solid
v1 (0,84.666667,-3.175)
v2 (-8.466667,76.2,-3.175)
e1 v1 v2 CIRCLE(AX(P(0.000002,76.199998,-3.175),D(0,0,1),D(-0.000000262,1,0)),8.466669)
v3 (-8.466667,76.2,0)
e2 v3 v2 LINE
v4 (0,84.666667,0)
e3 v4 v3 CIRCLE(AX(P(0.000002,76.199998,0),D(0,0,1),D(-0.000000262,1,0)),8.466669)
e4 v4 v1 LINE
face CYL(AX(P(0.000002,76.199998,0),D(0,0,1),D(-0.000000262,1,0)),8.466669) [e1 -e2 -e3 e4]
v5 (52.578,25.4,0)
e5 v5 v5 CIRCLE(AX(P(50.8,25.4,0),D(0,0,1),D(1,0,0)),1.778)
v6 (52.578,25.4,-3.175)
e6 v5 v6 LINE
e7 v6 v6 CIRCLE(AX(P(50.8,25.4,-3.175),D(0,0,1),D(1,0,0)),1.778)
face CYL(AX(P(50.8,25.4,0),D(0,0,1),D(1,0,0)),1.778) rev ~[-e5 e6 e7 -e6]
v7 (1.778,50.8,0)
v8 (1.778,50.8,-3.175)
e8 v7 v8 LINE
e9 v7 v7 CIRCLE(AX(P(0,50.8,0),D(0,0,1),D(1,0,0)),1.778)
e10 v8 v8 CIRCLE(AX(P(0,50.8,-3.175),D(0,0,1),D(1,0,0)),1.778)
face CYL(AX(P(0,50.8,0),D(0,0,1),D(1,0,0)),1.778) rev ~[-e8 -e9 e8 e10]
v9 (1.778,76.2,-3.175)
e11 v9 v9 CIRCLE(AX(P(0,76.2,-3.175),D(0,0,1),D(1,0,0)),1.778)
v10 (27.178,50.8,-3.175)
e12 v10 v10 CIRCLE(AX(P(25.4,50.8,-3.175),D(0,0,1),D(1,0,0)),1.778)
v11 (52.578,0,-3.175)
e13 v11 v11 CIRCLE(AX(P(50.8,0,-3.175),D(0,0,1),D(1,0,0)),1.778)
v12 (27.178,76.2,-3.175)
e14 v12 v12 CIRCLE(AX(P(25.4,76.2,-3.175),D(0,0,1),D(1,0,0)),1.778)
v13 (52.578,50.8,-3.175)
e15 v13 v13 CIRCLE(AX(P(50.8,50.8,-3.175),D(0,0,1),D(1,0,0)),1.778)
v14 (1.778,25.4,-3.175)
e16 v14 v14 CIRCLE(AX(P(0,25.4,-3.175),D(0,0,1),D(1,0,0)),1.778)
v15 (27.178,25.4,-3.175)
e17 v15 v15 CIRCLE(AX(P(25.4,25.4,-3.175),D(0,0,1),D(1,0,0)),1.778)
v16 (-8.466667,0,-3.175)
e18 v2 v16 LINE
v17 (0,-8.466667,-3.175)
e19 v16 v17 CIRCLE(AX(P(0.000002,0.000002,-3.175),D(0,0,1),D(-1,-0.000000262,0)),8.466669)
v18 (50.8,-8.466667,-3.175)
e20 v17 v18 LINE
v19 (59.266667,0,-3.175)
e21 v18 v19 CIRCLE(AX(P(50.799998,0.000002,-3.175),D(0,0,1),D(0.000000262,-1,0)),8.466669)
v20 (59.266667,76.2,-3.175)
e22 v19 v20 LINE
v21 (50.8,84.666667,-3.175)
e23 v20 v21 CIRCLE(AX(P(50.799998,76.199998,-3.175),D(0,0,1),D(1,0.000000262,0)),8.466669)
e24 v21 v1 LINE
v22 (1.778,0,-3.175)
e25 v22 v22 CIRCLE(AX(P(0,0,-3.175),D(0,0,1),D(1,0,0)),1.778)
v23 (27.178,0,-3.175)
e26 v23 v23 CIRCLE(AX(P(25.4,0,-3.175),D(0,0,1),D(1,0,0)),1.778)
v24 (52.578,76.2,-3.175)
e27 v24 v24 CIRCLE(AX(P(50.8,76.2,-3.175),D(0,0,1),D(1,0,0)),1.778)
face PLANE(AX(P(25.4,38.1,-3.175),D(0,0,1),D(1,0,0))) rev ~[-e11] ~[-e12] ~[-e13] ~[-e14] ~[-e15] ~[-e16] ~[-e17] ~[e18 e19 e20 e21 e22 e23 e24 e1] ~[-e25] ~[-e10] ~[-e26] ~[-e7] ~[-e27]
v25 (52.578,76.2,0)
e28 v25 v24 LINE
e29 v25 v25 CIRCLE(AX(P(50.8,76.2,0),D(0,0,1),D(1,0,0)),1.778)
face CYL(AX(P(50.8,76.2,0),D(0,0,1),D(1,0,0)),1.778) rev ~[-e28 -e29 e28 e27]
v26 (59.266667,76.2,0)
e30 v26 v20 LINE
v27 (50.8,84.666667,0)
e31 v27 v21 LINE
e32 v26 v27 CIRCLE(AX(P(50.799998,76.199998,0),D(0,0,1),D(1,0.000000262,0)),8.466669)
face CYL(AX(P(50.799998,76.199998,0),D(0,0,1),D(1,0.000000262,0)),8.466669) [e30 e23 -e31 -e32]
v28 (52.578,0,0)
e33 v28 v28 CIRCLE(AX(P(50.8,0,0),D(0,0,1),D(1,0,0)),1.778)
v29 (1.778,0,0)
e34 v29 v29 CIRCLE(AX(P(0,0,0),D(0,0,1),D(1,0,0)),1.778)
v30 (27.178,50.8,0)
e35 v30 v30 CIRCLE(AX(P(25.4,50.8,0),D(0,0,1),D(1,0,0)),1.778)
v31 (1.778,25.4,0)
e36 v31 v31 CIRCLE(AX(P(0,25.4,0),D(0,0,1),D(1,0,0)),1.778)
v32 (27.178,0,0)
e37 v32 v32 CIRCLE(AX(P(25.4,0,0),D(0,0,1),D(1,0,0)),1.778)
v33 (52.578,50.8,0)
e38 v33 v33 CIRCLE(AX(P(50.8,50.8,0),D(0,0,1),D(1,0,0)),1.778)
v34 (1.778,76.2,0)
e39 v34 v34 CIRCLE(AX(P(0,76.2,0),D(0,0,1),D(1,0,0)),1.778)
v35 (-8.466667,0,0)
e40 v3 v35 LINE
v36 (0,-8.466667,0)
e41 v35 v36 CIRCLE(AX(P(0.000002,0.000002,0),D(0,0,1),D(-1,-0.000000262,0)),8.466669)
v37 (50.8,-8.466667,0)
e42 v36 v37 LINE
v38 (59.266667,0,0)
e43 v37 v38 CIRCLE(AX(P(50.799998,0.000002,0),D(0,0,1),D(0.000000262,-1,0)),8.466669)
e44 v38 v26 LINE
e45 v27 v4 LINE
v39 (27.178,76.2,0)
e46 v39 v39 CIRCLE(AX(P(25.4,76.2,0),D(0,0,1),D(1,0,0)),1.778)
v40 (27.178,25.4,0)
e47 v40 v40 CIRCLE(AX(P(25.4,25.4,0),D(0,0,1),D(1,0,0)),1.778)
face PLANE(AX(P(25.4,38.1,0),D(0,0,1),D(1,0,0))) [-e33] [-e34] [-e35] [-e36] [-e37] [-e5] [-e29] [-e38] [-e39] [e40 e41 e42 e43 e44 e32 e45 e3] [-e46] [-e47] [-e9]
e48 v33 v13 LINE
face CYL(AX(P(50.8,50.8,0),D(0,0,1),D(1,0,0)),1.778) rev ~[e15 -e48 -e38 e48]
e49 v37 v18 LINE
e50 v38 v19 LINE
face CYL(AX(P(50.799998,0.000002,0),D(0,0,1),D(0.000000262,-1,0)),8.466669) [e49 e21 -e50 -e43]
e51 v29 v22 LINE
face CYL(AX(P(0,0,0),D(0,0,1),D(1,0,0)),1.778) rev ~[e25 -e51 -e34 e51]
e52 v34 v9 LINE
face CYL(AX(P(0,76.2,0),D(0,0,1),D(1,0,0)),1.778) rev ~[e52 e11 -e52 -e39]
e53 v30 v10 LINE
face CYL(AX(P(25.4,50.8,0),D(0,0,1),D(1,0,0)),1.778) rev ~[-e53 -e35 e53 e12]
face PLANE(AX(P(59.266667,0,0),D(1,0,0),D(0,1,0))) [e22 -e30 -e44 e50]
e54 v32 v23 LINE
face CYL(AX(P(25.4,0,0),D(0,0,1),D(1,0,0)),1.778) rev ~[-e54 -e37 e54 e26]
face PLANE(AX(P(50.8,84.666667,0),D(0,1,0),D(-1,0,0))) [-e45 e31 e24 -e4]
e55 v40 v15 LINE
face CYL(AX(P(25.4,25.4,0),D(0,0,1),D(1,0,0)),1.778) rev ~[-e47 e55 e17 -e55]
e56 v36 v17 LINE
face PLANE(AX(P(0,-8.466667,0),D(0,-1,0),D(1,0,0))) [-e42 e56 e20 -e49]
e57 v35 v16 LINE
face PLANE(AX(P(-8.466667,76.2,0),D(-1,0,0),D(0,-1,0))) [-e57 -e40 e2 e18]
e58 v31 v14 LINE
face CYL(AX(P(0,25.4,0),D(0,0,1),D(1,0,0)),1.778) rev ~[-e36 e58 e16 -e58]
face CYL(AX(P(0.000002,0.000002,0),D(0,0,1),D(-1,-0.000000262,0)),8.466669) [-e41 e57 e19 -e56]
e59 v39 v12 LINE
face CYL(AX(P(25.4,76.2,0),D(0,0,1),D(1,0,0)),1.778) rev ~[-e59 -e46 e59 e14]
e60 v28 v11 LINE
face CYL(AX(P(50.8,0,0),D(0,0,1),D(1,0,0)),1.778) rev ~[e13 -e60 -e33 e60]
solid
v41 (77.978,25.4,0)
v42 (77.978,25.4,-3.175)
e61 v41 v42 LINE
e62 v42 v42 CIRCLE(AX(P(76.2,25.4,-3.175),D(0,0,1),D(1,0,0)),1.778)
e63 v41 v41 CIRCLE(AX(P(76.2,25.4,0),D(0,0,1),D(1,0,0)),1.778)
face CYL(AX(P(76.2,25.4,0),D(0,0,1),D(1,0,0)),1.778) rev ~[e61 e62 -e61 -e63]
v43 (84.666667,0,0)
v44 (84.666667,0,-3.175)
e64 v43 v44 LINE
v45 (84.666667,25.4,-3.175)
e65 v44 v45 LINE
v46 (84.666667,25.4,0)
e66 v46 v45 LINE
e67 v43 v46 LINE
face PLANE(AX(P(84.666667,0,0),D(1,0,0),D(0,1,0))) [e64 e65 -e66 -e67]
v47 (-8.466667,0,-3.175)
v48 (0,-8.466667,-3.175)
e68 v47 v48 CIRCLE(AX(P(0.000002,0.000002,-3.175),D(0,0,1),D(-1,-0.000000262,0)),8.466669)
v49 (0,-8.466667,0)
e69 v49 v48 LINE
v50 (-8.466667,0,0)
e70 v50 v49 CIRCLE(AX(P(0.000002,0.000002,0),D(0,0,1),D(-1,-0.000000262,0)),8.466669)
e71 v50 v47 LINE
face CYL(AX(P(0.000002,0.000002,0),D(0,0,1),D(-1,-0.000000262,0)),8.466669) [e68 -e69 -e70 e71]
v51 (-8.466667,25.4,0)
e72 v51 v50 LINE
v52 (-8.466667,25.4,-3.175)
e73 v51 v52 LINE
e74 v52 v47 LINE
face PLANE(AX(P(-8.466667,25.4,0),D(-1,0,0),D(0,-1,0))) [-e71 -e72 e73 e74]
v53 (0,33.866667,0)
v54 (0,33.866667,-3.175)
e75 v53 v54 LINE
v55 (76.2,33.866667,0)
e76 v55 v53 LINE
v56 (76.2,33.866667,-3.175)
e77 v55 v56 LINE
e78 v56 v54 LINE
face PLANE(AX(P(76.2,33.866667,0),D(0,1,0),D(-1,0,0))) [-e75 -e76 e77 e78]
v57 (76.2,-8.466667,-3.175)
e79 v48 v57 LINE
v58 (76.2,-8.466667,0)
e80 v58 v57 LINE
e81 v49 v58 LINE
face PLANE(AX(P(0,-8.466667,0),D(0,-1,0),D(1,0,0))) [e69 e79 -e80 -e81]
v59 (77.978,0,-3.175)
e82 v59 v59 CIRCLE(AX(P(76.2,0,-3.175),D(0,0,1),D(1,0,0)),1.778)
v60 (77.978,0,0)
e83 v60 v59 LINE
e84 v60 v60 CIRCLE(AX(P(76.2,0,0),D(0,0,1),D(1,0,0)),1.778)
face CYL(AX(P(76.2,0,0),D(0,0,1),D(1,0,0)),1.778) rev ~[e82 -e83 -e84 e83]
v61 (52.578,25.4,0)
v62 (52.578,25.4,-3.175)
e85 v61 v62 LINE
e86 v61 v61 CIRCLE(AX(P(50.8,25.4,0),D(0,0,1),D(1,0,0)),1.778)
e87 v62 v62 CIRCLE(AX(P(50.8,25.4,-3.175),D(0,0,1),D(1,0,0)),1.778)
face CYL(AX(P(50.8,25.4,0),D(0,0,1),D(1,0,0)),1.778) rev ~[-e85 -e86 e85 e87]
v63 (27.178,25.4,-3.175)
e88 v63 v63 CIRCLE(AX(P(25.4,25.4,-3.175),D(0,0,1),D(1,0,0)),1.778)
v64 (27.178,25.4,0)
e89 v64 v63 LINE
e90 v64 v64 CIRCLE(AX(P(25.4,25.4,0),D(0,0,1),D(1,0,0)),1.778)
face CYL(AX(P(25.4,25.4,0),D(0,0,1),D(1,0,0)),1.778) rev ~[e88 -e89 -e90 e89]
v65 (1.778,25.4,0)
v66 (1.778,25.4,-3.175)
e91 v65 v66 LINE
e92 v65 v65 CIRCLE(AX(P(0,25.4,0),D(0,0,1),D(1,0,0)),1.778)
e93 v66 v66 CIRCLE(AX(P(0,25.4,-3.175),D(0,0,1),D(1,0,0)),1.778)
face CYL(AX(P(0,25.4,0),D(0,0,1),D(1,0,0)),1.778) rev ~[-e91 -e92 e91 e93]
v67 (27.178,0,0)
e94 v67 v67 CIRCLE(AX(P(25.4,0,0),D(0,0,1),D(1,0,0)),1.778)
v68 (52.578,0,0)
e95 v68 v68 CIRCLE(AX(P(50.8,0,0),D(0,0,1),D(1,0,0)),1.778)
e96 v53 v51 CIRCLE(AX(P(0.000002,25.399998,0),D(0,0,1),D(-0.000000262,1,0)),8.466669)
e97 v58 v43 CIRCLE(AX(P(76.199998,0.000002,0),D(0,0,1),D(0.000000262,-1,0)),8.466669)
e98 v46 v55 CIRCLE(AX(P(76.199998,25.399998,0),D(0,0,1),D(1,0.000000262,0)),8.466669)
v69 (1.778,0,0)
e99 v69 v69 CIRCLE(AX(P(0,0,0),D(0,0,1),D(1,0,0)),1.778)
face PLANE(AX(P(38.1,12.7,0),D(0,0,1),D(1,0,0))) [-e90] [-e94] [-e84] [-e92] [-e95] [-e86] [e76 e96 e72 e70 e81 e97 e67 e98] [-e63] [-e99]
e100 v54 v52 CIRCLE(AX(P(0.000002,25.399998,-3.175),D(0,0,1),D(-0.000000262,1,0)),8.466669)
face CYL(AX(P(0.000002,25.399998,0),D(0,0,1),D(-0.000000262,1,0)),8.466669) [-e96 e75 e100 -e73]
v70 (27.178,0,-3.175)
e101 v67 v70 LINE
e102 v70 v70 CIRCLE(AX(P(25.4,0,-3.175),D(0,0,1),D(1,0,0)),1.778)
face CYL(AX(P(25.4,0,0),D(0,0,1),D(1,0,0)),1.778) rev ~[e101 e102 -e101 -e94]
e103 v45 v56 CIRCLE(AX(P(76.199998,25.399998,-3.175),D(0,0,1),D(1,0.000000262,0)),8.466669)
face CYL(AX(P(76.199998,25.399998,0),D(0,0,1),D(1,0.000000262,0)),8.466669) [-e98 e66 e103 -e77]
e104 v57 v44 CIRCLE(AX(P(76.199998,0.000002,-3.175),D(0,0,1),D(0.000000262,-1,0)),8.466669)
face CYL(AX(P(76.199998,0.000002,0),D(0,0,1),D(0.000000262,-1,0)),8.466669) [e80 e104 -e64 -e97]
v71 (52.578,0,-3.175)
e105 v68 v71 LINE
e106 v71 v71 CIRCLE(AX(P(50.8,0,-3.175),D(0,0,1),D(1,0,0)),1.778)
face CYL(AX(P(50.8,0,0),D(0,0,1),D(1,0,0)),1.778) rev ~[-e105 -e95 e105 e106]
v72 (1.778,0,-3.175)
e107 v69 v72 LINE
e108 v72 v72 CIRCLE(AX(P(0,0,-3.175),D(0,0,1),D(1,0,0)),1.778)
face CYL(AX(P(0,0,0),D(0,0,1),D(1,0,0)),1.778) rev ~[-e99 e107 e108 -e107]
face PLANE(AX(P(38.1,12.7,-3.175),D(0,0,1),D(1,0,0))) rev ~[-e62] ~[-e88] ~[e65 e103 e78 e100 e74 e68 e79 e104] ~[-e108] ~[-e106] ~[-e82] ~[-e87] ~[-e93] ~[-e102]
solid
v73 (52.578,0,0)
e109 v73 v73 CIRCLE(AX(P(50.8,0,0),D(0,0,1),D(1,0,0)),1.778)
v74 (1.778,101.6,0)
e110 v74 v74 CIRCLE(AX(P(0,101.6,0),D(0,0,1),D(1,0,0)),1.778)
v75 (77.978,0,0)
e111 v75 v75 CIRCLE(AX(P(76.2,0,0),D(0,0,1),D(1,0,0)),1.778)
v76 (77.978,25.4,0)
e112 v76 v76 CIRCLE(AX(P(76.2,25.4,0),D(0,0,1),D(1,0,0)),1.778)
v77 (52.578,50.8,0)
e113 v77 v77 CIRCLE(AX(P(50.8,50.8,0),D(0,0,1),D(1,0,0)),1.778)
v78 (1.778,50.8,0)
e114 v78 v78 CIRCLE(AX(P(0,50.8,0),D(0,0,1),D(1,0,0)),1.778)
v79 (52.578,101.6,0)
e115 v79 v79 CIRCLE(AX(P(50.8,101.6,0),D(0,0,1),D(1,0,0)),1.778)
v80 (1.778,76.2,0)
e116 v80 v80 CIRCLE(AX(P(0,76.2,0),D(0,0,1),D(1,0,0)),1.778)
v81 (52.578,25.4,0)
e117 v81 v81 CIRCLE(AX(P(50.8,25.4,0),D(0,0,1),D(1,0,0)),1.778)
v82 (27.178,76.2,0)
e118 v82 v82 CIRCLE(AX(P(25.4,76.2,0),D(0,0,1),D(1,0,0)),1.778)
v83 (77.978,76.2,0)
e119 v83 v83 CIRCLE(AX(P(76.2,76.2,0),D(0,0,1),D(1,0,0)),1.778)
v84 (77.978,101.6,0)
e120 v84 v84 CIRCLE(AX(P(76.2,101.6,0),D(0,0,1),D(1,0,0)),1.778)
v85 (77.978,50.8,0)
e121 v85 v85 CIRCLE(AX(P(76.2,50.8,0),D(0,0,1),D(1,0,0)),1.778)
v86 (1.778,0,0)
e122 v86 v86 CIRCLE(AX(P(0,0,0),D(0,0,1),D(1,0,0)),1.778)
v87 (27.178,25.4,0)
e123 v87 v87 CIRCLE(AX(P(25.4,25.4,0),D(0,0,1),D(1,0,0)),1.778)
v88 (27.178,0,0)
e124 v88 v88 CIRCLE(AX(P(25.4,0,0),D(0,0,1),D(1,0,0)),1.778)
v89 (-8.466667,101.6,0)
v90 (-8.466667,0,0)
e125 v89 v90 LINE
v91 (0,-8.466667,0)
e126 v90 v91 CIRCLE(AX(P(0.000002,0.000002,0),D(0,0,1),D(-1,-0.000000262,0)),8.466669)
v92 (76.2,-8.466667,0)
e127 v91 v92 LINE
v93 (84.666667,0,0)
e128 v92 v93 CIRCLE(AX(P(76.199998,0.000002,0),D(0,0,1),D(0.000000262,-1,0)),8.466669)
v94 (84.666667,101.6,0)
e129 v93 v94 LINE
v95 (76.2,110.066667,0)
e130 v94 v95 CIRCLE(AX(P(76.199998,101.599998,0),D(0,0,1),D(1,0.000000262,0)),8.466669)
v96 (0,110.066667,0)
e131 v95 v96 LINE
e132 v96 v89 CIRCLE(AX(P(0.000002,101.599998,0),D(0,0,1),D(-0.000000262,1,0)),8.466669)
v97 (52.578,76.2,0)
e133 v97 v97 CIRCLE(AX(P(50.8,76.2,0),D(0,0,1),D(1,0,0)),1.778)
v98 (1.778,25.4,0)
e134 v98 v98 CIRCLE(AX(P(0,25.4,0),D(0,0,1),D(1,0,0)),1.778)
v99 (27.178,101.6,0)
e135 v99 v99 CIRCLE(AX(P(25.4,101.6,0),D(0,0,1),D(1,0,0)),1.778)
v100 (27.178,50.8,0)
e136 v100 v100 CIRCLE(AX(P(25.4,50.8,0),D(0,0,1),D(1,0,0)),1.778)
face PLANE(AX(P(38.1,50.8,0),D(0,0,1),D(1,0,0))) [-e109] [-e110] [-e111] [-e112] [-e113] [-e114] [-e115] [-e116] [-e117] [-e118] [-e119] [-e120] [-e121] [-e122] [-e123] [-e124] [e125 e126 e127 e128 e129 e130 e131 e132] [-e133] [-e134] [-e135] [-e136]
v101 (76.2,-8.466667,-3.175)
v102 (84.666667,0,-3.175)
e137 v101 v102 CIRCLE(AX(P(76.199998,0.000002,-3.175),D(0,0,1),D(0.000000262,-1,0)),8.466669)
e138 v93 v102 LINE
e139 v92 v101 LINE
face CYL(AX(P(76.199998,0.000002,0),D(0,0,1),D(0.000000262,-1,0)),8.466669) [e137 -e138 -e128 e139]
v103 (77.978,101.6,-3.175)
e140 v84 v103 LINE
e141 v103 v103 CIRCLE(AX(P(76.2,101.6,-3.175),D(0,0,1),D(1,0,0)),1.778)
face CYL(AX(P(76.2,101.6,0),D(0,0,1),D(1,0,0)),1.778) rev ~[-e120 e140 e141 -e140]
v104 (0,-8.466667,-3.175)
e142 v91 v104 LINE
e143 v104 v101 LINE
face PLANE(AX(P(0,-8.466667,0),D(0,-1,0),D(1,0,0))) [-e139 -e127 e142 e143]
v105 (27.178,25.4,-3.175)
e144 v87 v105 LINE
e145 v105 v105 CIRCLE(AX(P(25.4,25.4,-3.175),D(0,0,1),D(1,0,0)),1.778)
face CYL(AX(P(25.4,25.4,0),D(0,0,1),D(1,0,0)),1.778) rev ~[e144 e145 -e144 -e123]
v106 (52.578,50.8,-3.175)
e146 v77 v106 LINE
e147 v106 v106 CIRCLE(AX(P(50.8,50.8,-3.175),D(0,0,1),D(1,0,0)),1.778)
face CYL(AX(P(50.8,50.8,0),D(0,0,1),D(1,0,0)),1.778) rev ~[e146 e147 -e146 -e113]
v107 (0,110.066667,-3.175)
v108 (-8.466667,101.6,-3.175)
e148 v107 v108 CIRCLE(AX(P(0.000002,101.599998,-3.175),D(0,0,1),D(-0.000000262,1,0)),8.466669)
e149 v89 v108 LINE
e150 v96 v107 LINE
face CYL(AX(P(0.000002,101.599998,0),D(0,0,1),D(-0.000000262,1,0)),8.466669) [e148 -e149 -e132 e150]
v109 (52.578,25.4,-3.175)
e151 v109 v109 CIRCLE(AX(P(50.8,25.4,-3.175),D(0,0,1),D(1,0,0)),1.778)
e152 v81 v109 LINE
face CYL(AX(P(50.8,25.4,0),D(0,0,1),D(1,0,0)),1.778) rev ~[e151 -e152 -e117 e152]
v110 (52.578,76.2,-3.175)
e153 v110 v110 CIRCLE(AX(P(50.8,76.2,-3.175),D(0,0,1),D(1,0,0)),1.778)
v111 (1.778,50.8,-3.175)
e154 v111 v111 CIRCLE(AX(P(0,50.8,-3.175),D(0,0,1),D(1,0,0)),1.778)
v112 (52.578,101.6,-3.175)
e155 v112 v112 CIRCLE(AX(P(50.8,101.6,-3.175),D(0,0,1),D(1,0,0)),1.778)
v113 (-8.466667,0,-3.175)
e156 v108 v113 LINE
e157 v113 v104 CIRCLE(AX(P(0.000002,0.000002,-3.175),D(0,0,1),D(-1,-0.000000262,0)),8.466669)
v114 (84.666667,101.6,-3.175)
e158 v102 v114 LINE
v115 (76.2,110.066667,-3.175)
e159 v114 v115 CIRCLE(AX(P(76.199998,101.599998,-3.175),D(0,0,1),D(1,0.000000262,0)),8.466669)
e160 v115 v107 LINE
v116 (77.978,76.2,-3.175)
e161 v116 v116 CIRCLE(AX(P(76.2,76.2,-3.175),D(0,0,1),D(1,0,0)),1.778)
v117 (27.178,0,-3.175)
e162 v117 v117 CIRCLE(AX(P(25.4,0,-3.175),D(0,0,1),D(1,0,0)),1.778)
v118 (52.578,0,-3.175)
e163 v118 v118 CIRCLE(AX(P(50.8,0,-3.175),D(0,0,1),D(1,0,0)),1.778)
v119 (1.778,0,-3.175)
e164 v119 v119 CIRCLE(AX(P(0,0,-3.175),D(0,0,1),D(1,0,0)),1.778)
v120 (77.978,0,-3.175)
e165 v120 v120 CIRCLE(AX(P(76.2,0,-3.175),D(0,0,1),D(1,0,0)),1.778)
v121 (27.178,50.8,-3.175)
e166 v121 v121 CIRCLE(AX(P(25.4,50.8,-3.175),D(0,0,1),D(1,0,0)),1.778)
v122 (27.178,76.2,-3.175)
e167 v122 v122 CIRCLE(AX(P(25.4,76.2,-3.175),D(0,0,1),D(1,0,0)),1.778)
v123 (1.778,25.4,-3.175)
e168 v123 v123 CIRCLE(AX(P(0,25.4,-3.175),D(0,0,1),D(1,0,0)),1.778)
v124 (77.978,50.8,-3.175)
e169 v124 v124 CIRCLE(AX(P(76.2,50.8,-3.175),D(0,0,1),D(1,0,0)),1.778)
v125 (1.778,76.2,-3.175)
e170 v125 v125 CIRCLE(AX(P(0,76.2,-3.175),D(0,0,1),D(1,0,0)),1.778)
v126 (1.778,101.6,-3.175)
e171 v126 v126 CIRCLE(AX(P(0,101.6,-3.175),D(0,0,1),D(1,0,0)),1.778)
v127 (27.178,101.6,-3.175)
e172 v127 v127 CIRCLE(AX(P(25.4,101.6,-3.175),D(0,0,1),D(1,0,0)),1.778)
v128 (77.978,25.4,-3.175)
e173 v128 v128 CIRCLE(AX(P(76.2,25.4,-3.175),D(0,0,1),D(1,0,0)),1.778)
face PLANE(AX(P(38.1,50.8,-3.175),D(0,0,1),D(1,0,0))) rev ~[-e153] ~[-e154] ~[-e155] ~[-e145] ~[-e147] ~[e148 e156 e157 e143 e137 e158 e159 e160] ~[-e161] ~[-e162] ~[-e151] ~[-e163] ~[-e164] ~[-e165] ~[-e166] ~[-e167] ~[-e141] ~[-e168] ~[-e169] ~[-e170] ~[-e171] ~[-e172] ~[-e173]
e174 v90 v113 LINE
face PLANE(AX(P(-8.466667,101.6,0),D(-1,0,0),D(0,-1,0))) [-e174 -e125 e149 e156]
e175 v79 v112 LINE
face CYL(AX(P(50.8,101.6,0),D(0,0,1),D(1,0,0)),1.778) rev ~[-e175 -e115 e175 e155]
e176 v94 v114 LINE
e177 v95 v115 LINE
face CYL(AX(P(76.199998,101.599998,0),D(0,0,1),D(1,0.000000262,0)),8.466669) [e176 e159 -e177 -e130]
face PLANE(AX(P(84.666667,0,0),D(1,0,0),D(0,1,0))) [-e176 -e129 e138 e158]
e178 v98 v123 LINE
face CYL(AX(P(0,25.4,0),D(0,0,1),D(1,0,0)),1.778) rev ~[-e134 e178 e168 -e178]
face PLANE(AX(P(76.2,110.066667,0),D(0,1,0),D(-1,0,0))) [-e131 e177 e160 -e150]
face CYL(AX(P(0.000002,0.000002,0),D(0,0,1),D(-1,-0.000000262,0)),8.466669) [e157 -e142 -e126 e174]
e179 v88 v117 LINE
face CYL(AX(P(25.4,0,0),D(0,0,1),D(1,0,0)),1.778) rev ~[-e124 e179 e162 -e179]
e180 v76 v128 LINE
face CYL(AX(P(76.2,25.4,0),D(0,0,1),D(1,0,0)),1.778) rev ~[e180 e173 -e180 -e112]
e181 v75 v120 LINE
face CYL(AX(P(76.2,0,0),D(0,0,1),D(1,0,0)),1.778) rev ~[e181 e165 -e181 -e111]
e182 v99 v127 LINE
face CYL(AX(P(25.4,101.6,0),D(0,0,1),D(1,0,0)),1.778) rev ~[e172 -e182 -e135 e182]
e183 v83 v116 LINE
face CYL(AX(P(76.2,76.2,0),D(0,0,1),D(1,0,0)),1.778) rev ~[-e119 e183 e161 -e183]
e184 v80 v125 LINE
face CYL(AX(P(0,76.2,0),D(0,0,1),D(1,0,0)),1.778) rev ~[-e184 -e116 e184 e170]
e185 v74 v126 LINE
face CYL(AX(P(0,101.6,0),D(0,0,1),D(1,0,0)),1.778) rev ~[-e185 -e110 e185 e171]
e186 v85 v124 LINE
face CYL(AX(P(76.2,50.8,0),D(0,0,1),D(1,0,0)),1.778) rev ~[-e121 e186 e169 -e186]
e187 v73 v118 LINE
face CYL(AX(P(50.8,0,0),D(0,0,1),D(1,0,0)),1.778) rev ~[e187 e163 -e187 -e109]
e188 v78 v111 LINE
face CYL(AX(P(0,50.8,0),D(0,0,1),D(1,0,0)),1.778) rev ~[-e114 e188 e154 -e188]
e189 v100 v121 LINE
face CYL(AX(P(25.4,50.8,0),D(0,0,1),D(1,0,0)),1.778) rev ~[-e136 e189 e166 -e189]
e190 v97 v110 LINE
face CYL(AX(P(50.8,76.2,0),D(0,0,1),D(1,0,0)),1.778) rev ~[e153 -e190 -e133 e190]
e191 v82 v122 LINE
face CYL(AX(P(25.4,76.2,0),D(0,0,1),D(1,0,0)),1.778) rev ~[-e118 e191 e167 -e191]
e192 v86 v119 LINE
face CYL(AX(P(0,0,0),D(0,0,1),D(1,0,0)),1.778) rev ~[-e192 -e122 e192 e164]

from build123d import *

# Parameters (mm, degrees)
F1_R     = 1.778
F2_DEPTH = 3.175
F3_R     = 1.778
F4_DEPTH = 3.175
F5_R     = 1.778
F6_DEPTH = 3.175


with BuildPart() as f2:
    # F1 (on Top) → F2 (new body, through all)
    with BuildSketch(Plane.XY):
        with BuildLine():
            Line((76.2, 33.866667), (0, 33.866667))
            ThreePointArc((0, 33.866667), (-5.986837, 31.386837), (-8.466667, 25.4))
            Line((-8.466667, 25.4), (-8.466667, 0))
            ThreePointArc((-8.466667, 0), (-5.986837, -5.986837), (0, -8.466667))
            Line((0, -8.466667), (76.2, -8.466667))
            ThreePointArc((76.2, -8.466667), (82.186837, -5.986837), (84.666667, 0))
            Line((84.666667, 0), (84.666667, 25.4))
            ThreePointArc((84.666667, 25.4), (82.186837, 31.386837), (76.2, 33.866667))
        make_face()
        Circle(F1_R, mode=Mode.SUBTRACT)
        with Locations((25.4, 0)):
            Circle(F1_R, mode=Mode.SUBTRACT)
        with Locations((50.8, 0)):
            Circle(F1_R, mode=Mode.SUBTRACT)
        with Locations((76.2, 0)):
            Circle(F1_R, mode=Mode.SUBTRACT)
        with Locations((0, 25.4)):
            Circle(F1_R, mode=Mode.SUBTRACT)
        with Locations((25.4, 25.4)):
            Circle(F1_R, mode=Mode.SUBTRACT)
        with Locations((50.8, 25.4)):
            Circle(F1_R, mode=Mode.SUBTRACT)
        with Locations((76.2, 25.4)):
            Circle(F1_R, mode=Mode.SUBTRACT)
    extrude(amount=-F2_DEPTH)


with BuildPart() as f4:
    # F3 (on Top) → F4 (new body, through all)
    with BuildSketch(Plane.XY):
        with BuildLine():
            Line((50.8, 84.666667), (0, 84.666667))
            ThreePointArc((0, 84.666667), (-5.986837, 82.186837), (-8.466667, 76.2))
            Line((-8.466667, 76.2), (-8.466667, 0))
            ThreePointArc((-8.466667, 0), (-5.986837, -5.986837), (0, -8.466667))
            Line((0, -8.466667), (50.8, -8.466667))
            ThreePointArc((50.8, -8.466667), (56.786837, -5.986837), (59.266667, 0))
            Line((59.266667, 0), (59.266667, 76.2))
            ThreePointArc((59.266667, 76.2), (56.786837, 82.186837), (50.8, 84.666667))
        make_face()
        Circle(F3_R, mode=Mode.SUBTRACT)
        with Locations((0, 25.4)):
            Circle(F3_R, mode=Mode.SUBTRACT)
        with Locations((25.4, 0)):
            Circle(F3_R, mode=Mode.SUBTRACT)
        with Locations((50.8, 0)):
            Circle(F3_R, mode=Mode.SUBTRACT)
        with Locations((25.4, 25.4)):
            Circle(F3_R, mode=Mode.SUBTRACT)
        with Locations((50.8, 25.4)):
            Circle(F3_R, mode=Mode.SUBTRACT)
        with Locations((0, 50.8)):
            Circle(F3_R, mode=Mode.SUBTRACT)
        with Locations((0, 76.2)):
            Circle(F3_R, mode=Mode.SUBTRACT)
        with Locations((25.4, 50.8)):
            Circle(F3_R, mode=Mode.SUBTRACT)
        with Locations((50.8, 50.8)):
            Circle(F3_R, mode=Mode.SUBTRACT)
        with Locations((25.4, 76.2)):
            Circle(F3_R, mode=Mode.SUBTRACT)
        with Locations((50.8, 76.2)):
            Circle(F3_R, mode=Mode.SUBTRACT)
    extrude(amount=-F4_DEPTH)


with BuildPart() as f6:
    # F5 (on Top) → F6 (new body, through all)
    with BuildSketch(Plane.XY):
        with BuildLine():
            Line((76.2, 110.066667), (0, 110.066667))
            ThreePointArc((0, 110.066667), (-5.986837, 107.586837), (-8.466667, 101.6))
            Line((-8.466667, 101.6), (-8.466667, 0))
            ThreePointArc((-8.466667, 0), (-5.986837, -5.986837), (0, -8.466667))
            Line((0, -8.466667), (76.2, -8.466667))
            ThreePointArc((76.2, -8.466667), (82.186837, -5.986837), (84.666667, 0))
            Line((84.666667, 0), (84.666667, 101.6))
            ThreePointArc((84.666667, 101.6), (82.186837, 107.586837), (76.2, 110.066667))
        make_face()
        Circle(F5_R, mode=Mode.SUBTRACT)
        with Locations((25.4, 0)):
            Circle(F5_R, mode=Mode.SUBTRACT)
        with Locations((0, 25.4)):
            Circle(F5_R, mode=Mode.SUBTRACT)
        with Locations((25.4, 25.4)):
            Circle(F5_R, mode=Mode.SUBTRACT)
        with Locations((50.8, 0)):
            Circle(F5_R, mode=Mode.SUBTRACT)
        with Locations((76.2, 0)):
            Circle(F5_R, mode=Mode.SUBTRACT)
        with Locations((50.8, 25.4)):
            Circle(F5_R, mode=Mode.SUBTRACT)
        with Locations((76.2, 25.4)):
            Circle(F5_R, mode=Mode.SUBTRACT)
        with Locations((0, 50.8)):
            Circle(F5_R, mode=Mode.SUBTRACT)
        with Locations((0, 76.2)):
            Circle(F5_R, mode=Mode.SUBTRACT)
        with Locations((25.4, 50.8)):
            Circle(F5_R, mode=Mode.SUBTRACT)
        with Locations((25.4, 76.2)):
            Circle(F5_R, mode=Mode.SUBTRACT)
        with Locations((0, 101.6)):
            Circle(F5_R, mode=Mode.SUBTRACT)
        with Locations((25.4, 101.6)):
            Circle(F5_R, mode=Mode.SUBTRACT)
        with Locations((50.8, 50.8)):
            Circle(F5_R, mode=Mode.SUBTRACT)
        with Locations((50.8, 76.2)):
            Circle(F5_R, mode=Mode.SUBTRACT)
        with Locations((76.2, 50.8)):
            Circle(F5_R, mode=Mode.SUBTRACT)
        with Locations((76.2, 76.2)):
            Circle(F5_R, mode=Mode.SUBTRACT)
        with Locations((50.8, 101.6)):
            Circle(F5_R, mode=Mode.SUBTRACT)
        with Locations((76.2, 101.6)):
            Circle(F5_R, mode=Mode.SUBTRACT)
    extrude(amount=-F6_DEPTH)


solid = Compound([f2.part, f4.part, f6.part])
